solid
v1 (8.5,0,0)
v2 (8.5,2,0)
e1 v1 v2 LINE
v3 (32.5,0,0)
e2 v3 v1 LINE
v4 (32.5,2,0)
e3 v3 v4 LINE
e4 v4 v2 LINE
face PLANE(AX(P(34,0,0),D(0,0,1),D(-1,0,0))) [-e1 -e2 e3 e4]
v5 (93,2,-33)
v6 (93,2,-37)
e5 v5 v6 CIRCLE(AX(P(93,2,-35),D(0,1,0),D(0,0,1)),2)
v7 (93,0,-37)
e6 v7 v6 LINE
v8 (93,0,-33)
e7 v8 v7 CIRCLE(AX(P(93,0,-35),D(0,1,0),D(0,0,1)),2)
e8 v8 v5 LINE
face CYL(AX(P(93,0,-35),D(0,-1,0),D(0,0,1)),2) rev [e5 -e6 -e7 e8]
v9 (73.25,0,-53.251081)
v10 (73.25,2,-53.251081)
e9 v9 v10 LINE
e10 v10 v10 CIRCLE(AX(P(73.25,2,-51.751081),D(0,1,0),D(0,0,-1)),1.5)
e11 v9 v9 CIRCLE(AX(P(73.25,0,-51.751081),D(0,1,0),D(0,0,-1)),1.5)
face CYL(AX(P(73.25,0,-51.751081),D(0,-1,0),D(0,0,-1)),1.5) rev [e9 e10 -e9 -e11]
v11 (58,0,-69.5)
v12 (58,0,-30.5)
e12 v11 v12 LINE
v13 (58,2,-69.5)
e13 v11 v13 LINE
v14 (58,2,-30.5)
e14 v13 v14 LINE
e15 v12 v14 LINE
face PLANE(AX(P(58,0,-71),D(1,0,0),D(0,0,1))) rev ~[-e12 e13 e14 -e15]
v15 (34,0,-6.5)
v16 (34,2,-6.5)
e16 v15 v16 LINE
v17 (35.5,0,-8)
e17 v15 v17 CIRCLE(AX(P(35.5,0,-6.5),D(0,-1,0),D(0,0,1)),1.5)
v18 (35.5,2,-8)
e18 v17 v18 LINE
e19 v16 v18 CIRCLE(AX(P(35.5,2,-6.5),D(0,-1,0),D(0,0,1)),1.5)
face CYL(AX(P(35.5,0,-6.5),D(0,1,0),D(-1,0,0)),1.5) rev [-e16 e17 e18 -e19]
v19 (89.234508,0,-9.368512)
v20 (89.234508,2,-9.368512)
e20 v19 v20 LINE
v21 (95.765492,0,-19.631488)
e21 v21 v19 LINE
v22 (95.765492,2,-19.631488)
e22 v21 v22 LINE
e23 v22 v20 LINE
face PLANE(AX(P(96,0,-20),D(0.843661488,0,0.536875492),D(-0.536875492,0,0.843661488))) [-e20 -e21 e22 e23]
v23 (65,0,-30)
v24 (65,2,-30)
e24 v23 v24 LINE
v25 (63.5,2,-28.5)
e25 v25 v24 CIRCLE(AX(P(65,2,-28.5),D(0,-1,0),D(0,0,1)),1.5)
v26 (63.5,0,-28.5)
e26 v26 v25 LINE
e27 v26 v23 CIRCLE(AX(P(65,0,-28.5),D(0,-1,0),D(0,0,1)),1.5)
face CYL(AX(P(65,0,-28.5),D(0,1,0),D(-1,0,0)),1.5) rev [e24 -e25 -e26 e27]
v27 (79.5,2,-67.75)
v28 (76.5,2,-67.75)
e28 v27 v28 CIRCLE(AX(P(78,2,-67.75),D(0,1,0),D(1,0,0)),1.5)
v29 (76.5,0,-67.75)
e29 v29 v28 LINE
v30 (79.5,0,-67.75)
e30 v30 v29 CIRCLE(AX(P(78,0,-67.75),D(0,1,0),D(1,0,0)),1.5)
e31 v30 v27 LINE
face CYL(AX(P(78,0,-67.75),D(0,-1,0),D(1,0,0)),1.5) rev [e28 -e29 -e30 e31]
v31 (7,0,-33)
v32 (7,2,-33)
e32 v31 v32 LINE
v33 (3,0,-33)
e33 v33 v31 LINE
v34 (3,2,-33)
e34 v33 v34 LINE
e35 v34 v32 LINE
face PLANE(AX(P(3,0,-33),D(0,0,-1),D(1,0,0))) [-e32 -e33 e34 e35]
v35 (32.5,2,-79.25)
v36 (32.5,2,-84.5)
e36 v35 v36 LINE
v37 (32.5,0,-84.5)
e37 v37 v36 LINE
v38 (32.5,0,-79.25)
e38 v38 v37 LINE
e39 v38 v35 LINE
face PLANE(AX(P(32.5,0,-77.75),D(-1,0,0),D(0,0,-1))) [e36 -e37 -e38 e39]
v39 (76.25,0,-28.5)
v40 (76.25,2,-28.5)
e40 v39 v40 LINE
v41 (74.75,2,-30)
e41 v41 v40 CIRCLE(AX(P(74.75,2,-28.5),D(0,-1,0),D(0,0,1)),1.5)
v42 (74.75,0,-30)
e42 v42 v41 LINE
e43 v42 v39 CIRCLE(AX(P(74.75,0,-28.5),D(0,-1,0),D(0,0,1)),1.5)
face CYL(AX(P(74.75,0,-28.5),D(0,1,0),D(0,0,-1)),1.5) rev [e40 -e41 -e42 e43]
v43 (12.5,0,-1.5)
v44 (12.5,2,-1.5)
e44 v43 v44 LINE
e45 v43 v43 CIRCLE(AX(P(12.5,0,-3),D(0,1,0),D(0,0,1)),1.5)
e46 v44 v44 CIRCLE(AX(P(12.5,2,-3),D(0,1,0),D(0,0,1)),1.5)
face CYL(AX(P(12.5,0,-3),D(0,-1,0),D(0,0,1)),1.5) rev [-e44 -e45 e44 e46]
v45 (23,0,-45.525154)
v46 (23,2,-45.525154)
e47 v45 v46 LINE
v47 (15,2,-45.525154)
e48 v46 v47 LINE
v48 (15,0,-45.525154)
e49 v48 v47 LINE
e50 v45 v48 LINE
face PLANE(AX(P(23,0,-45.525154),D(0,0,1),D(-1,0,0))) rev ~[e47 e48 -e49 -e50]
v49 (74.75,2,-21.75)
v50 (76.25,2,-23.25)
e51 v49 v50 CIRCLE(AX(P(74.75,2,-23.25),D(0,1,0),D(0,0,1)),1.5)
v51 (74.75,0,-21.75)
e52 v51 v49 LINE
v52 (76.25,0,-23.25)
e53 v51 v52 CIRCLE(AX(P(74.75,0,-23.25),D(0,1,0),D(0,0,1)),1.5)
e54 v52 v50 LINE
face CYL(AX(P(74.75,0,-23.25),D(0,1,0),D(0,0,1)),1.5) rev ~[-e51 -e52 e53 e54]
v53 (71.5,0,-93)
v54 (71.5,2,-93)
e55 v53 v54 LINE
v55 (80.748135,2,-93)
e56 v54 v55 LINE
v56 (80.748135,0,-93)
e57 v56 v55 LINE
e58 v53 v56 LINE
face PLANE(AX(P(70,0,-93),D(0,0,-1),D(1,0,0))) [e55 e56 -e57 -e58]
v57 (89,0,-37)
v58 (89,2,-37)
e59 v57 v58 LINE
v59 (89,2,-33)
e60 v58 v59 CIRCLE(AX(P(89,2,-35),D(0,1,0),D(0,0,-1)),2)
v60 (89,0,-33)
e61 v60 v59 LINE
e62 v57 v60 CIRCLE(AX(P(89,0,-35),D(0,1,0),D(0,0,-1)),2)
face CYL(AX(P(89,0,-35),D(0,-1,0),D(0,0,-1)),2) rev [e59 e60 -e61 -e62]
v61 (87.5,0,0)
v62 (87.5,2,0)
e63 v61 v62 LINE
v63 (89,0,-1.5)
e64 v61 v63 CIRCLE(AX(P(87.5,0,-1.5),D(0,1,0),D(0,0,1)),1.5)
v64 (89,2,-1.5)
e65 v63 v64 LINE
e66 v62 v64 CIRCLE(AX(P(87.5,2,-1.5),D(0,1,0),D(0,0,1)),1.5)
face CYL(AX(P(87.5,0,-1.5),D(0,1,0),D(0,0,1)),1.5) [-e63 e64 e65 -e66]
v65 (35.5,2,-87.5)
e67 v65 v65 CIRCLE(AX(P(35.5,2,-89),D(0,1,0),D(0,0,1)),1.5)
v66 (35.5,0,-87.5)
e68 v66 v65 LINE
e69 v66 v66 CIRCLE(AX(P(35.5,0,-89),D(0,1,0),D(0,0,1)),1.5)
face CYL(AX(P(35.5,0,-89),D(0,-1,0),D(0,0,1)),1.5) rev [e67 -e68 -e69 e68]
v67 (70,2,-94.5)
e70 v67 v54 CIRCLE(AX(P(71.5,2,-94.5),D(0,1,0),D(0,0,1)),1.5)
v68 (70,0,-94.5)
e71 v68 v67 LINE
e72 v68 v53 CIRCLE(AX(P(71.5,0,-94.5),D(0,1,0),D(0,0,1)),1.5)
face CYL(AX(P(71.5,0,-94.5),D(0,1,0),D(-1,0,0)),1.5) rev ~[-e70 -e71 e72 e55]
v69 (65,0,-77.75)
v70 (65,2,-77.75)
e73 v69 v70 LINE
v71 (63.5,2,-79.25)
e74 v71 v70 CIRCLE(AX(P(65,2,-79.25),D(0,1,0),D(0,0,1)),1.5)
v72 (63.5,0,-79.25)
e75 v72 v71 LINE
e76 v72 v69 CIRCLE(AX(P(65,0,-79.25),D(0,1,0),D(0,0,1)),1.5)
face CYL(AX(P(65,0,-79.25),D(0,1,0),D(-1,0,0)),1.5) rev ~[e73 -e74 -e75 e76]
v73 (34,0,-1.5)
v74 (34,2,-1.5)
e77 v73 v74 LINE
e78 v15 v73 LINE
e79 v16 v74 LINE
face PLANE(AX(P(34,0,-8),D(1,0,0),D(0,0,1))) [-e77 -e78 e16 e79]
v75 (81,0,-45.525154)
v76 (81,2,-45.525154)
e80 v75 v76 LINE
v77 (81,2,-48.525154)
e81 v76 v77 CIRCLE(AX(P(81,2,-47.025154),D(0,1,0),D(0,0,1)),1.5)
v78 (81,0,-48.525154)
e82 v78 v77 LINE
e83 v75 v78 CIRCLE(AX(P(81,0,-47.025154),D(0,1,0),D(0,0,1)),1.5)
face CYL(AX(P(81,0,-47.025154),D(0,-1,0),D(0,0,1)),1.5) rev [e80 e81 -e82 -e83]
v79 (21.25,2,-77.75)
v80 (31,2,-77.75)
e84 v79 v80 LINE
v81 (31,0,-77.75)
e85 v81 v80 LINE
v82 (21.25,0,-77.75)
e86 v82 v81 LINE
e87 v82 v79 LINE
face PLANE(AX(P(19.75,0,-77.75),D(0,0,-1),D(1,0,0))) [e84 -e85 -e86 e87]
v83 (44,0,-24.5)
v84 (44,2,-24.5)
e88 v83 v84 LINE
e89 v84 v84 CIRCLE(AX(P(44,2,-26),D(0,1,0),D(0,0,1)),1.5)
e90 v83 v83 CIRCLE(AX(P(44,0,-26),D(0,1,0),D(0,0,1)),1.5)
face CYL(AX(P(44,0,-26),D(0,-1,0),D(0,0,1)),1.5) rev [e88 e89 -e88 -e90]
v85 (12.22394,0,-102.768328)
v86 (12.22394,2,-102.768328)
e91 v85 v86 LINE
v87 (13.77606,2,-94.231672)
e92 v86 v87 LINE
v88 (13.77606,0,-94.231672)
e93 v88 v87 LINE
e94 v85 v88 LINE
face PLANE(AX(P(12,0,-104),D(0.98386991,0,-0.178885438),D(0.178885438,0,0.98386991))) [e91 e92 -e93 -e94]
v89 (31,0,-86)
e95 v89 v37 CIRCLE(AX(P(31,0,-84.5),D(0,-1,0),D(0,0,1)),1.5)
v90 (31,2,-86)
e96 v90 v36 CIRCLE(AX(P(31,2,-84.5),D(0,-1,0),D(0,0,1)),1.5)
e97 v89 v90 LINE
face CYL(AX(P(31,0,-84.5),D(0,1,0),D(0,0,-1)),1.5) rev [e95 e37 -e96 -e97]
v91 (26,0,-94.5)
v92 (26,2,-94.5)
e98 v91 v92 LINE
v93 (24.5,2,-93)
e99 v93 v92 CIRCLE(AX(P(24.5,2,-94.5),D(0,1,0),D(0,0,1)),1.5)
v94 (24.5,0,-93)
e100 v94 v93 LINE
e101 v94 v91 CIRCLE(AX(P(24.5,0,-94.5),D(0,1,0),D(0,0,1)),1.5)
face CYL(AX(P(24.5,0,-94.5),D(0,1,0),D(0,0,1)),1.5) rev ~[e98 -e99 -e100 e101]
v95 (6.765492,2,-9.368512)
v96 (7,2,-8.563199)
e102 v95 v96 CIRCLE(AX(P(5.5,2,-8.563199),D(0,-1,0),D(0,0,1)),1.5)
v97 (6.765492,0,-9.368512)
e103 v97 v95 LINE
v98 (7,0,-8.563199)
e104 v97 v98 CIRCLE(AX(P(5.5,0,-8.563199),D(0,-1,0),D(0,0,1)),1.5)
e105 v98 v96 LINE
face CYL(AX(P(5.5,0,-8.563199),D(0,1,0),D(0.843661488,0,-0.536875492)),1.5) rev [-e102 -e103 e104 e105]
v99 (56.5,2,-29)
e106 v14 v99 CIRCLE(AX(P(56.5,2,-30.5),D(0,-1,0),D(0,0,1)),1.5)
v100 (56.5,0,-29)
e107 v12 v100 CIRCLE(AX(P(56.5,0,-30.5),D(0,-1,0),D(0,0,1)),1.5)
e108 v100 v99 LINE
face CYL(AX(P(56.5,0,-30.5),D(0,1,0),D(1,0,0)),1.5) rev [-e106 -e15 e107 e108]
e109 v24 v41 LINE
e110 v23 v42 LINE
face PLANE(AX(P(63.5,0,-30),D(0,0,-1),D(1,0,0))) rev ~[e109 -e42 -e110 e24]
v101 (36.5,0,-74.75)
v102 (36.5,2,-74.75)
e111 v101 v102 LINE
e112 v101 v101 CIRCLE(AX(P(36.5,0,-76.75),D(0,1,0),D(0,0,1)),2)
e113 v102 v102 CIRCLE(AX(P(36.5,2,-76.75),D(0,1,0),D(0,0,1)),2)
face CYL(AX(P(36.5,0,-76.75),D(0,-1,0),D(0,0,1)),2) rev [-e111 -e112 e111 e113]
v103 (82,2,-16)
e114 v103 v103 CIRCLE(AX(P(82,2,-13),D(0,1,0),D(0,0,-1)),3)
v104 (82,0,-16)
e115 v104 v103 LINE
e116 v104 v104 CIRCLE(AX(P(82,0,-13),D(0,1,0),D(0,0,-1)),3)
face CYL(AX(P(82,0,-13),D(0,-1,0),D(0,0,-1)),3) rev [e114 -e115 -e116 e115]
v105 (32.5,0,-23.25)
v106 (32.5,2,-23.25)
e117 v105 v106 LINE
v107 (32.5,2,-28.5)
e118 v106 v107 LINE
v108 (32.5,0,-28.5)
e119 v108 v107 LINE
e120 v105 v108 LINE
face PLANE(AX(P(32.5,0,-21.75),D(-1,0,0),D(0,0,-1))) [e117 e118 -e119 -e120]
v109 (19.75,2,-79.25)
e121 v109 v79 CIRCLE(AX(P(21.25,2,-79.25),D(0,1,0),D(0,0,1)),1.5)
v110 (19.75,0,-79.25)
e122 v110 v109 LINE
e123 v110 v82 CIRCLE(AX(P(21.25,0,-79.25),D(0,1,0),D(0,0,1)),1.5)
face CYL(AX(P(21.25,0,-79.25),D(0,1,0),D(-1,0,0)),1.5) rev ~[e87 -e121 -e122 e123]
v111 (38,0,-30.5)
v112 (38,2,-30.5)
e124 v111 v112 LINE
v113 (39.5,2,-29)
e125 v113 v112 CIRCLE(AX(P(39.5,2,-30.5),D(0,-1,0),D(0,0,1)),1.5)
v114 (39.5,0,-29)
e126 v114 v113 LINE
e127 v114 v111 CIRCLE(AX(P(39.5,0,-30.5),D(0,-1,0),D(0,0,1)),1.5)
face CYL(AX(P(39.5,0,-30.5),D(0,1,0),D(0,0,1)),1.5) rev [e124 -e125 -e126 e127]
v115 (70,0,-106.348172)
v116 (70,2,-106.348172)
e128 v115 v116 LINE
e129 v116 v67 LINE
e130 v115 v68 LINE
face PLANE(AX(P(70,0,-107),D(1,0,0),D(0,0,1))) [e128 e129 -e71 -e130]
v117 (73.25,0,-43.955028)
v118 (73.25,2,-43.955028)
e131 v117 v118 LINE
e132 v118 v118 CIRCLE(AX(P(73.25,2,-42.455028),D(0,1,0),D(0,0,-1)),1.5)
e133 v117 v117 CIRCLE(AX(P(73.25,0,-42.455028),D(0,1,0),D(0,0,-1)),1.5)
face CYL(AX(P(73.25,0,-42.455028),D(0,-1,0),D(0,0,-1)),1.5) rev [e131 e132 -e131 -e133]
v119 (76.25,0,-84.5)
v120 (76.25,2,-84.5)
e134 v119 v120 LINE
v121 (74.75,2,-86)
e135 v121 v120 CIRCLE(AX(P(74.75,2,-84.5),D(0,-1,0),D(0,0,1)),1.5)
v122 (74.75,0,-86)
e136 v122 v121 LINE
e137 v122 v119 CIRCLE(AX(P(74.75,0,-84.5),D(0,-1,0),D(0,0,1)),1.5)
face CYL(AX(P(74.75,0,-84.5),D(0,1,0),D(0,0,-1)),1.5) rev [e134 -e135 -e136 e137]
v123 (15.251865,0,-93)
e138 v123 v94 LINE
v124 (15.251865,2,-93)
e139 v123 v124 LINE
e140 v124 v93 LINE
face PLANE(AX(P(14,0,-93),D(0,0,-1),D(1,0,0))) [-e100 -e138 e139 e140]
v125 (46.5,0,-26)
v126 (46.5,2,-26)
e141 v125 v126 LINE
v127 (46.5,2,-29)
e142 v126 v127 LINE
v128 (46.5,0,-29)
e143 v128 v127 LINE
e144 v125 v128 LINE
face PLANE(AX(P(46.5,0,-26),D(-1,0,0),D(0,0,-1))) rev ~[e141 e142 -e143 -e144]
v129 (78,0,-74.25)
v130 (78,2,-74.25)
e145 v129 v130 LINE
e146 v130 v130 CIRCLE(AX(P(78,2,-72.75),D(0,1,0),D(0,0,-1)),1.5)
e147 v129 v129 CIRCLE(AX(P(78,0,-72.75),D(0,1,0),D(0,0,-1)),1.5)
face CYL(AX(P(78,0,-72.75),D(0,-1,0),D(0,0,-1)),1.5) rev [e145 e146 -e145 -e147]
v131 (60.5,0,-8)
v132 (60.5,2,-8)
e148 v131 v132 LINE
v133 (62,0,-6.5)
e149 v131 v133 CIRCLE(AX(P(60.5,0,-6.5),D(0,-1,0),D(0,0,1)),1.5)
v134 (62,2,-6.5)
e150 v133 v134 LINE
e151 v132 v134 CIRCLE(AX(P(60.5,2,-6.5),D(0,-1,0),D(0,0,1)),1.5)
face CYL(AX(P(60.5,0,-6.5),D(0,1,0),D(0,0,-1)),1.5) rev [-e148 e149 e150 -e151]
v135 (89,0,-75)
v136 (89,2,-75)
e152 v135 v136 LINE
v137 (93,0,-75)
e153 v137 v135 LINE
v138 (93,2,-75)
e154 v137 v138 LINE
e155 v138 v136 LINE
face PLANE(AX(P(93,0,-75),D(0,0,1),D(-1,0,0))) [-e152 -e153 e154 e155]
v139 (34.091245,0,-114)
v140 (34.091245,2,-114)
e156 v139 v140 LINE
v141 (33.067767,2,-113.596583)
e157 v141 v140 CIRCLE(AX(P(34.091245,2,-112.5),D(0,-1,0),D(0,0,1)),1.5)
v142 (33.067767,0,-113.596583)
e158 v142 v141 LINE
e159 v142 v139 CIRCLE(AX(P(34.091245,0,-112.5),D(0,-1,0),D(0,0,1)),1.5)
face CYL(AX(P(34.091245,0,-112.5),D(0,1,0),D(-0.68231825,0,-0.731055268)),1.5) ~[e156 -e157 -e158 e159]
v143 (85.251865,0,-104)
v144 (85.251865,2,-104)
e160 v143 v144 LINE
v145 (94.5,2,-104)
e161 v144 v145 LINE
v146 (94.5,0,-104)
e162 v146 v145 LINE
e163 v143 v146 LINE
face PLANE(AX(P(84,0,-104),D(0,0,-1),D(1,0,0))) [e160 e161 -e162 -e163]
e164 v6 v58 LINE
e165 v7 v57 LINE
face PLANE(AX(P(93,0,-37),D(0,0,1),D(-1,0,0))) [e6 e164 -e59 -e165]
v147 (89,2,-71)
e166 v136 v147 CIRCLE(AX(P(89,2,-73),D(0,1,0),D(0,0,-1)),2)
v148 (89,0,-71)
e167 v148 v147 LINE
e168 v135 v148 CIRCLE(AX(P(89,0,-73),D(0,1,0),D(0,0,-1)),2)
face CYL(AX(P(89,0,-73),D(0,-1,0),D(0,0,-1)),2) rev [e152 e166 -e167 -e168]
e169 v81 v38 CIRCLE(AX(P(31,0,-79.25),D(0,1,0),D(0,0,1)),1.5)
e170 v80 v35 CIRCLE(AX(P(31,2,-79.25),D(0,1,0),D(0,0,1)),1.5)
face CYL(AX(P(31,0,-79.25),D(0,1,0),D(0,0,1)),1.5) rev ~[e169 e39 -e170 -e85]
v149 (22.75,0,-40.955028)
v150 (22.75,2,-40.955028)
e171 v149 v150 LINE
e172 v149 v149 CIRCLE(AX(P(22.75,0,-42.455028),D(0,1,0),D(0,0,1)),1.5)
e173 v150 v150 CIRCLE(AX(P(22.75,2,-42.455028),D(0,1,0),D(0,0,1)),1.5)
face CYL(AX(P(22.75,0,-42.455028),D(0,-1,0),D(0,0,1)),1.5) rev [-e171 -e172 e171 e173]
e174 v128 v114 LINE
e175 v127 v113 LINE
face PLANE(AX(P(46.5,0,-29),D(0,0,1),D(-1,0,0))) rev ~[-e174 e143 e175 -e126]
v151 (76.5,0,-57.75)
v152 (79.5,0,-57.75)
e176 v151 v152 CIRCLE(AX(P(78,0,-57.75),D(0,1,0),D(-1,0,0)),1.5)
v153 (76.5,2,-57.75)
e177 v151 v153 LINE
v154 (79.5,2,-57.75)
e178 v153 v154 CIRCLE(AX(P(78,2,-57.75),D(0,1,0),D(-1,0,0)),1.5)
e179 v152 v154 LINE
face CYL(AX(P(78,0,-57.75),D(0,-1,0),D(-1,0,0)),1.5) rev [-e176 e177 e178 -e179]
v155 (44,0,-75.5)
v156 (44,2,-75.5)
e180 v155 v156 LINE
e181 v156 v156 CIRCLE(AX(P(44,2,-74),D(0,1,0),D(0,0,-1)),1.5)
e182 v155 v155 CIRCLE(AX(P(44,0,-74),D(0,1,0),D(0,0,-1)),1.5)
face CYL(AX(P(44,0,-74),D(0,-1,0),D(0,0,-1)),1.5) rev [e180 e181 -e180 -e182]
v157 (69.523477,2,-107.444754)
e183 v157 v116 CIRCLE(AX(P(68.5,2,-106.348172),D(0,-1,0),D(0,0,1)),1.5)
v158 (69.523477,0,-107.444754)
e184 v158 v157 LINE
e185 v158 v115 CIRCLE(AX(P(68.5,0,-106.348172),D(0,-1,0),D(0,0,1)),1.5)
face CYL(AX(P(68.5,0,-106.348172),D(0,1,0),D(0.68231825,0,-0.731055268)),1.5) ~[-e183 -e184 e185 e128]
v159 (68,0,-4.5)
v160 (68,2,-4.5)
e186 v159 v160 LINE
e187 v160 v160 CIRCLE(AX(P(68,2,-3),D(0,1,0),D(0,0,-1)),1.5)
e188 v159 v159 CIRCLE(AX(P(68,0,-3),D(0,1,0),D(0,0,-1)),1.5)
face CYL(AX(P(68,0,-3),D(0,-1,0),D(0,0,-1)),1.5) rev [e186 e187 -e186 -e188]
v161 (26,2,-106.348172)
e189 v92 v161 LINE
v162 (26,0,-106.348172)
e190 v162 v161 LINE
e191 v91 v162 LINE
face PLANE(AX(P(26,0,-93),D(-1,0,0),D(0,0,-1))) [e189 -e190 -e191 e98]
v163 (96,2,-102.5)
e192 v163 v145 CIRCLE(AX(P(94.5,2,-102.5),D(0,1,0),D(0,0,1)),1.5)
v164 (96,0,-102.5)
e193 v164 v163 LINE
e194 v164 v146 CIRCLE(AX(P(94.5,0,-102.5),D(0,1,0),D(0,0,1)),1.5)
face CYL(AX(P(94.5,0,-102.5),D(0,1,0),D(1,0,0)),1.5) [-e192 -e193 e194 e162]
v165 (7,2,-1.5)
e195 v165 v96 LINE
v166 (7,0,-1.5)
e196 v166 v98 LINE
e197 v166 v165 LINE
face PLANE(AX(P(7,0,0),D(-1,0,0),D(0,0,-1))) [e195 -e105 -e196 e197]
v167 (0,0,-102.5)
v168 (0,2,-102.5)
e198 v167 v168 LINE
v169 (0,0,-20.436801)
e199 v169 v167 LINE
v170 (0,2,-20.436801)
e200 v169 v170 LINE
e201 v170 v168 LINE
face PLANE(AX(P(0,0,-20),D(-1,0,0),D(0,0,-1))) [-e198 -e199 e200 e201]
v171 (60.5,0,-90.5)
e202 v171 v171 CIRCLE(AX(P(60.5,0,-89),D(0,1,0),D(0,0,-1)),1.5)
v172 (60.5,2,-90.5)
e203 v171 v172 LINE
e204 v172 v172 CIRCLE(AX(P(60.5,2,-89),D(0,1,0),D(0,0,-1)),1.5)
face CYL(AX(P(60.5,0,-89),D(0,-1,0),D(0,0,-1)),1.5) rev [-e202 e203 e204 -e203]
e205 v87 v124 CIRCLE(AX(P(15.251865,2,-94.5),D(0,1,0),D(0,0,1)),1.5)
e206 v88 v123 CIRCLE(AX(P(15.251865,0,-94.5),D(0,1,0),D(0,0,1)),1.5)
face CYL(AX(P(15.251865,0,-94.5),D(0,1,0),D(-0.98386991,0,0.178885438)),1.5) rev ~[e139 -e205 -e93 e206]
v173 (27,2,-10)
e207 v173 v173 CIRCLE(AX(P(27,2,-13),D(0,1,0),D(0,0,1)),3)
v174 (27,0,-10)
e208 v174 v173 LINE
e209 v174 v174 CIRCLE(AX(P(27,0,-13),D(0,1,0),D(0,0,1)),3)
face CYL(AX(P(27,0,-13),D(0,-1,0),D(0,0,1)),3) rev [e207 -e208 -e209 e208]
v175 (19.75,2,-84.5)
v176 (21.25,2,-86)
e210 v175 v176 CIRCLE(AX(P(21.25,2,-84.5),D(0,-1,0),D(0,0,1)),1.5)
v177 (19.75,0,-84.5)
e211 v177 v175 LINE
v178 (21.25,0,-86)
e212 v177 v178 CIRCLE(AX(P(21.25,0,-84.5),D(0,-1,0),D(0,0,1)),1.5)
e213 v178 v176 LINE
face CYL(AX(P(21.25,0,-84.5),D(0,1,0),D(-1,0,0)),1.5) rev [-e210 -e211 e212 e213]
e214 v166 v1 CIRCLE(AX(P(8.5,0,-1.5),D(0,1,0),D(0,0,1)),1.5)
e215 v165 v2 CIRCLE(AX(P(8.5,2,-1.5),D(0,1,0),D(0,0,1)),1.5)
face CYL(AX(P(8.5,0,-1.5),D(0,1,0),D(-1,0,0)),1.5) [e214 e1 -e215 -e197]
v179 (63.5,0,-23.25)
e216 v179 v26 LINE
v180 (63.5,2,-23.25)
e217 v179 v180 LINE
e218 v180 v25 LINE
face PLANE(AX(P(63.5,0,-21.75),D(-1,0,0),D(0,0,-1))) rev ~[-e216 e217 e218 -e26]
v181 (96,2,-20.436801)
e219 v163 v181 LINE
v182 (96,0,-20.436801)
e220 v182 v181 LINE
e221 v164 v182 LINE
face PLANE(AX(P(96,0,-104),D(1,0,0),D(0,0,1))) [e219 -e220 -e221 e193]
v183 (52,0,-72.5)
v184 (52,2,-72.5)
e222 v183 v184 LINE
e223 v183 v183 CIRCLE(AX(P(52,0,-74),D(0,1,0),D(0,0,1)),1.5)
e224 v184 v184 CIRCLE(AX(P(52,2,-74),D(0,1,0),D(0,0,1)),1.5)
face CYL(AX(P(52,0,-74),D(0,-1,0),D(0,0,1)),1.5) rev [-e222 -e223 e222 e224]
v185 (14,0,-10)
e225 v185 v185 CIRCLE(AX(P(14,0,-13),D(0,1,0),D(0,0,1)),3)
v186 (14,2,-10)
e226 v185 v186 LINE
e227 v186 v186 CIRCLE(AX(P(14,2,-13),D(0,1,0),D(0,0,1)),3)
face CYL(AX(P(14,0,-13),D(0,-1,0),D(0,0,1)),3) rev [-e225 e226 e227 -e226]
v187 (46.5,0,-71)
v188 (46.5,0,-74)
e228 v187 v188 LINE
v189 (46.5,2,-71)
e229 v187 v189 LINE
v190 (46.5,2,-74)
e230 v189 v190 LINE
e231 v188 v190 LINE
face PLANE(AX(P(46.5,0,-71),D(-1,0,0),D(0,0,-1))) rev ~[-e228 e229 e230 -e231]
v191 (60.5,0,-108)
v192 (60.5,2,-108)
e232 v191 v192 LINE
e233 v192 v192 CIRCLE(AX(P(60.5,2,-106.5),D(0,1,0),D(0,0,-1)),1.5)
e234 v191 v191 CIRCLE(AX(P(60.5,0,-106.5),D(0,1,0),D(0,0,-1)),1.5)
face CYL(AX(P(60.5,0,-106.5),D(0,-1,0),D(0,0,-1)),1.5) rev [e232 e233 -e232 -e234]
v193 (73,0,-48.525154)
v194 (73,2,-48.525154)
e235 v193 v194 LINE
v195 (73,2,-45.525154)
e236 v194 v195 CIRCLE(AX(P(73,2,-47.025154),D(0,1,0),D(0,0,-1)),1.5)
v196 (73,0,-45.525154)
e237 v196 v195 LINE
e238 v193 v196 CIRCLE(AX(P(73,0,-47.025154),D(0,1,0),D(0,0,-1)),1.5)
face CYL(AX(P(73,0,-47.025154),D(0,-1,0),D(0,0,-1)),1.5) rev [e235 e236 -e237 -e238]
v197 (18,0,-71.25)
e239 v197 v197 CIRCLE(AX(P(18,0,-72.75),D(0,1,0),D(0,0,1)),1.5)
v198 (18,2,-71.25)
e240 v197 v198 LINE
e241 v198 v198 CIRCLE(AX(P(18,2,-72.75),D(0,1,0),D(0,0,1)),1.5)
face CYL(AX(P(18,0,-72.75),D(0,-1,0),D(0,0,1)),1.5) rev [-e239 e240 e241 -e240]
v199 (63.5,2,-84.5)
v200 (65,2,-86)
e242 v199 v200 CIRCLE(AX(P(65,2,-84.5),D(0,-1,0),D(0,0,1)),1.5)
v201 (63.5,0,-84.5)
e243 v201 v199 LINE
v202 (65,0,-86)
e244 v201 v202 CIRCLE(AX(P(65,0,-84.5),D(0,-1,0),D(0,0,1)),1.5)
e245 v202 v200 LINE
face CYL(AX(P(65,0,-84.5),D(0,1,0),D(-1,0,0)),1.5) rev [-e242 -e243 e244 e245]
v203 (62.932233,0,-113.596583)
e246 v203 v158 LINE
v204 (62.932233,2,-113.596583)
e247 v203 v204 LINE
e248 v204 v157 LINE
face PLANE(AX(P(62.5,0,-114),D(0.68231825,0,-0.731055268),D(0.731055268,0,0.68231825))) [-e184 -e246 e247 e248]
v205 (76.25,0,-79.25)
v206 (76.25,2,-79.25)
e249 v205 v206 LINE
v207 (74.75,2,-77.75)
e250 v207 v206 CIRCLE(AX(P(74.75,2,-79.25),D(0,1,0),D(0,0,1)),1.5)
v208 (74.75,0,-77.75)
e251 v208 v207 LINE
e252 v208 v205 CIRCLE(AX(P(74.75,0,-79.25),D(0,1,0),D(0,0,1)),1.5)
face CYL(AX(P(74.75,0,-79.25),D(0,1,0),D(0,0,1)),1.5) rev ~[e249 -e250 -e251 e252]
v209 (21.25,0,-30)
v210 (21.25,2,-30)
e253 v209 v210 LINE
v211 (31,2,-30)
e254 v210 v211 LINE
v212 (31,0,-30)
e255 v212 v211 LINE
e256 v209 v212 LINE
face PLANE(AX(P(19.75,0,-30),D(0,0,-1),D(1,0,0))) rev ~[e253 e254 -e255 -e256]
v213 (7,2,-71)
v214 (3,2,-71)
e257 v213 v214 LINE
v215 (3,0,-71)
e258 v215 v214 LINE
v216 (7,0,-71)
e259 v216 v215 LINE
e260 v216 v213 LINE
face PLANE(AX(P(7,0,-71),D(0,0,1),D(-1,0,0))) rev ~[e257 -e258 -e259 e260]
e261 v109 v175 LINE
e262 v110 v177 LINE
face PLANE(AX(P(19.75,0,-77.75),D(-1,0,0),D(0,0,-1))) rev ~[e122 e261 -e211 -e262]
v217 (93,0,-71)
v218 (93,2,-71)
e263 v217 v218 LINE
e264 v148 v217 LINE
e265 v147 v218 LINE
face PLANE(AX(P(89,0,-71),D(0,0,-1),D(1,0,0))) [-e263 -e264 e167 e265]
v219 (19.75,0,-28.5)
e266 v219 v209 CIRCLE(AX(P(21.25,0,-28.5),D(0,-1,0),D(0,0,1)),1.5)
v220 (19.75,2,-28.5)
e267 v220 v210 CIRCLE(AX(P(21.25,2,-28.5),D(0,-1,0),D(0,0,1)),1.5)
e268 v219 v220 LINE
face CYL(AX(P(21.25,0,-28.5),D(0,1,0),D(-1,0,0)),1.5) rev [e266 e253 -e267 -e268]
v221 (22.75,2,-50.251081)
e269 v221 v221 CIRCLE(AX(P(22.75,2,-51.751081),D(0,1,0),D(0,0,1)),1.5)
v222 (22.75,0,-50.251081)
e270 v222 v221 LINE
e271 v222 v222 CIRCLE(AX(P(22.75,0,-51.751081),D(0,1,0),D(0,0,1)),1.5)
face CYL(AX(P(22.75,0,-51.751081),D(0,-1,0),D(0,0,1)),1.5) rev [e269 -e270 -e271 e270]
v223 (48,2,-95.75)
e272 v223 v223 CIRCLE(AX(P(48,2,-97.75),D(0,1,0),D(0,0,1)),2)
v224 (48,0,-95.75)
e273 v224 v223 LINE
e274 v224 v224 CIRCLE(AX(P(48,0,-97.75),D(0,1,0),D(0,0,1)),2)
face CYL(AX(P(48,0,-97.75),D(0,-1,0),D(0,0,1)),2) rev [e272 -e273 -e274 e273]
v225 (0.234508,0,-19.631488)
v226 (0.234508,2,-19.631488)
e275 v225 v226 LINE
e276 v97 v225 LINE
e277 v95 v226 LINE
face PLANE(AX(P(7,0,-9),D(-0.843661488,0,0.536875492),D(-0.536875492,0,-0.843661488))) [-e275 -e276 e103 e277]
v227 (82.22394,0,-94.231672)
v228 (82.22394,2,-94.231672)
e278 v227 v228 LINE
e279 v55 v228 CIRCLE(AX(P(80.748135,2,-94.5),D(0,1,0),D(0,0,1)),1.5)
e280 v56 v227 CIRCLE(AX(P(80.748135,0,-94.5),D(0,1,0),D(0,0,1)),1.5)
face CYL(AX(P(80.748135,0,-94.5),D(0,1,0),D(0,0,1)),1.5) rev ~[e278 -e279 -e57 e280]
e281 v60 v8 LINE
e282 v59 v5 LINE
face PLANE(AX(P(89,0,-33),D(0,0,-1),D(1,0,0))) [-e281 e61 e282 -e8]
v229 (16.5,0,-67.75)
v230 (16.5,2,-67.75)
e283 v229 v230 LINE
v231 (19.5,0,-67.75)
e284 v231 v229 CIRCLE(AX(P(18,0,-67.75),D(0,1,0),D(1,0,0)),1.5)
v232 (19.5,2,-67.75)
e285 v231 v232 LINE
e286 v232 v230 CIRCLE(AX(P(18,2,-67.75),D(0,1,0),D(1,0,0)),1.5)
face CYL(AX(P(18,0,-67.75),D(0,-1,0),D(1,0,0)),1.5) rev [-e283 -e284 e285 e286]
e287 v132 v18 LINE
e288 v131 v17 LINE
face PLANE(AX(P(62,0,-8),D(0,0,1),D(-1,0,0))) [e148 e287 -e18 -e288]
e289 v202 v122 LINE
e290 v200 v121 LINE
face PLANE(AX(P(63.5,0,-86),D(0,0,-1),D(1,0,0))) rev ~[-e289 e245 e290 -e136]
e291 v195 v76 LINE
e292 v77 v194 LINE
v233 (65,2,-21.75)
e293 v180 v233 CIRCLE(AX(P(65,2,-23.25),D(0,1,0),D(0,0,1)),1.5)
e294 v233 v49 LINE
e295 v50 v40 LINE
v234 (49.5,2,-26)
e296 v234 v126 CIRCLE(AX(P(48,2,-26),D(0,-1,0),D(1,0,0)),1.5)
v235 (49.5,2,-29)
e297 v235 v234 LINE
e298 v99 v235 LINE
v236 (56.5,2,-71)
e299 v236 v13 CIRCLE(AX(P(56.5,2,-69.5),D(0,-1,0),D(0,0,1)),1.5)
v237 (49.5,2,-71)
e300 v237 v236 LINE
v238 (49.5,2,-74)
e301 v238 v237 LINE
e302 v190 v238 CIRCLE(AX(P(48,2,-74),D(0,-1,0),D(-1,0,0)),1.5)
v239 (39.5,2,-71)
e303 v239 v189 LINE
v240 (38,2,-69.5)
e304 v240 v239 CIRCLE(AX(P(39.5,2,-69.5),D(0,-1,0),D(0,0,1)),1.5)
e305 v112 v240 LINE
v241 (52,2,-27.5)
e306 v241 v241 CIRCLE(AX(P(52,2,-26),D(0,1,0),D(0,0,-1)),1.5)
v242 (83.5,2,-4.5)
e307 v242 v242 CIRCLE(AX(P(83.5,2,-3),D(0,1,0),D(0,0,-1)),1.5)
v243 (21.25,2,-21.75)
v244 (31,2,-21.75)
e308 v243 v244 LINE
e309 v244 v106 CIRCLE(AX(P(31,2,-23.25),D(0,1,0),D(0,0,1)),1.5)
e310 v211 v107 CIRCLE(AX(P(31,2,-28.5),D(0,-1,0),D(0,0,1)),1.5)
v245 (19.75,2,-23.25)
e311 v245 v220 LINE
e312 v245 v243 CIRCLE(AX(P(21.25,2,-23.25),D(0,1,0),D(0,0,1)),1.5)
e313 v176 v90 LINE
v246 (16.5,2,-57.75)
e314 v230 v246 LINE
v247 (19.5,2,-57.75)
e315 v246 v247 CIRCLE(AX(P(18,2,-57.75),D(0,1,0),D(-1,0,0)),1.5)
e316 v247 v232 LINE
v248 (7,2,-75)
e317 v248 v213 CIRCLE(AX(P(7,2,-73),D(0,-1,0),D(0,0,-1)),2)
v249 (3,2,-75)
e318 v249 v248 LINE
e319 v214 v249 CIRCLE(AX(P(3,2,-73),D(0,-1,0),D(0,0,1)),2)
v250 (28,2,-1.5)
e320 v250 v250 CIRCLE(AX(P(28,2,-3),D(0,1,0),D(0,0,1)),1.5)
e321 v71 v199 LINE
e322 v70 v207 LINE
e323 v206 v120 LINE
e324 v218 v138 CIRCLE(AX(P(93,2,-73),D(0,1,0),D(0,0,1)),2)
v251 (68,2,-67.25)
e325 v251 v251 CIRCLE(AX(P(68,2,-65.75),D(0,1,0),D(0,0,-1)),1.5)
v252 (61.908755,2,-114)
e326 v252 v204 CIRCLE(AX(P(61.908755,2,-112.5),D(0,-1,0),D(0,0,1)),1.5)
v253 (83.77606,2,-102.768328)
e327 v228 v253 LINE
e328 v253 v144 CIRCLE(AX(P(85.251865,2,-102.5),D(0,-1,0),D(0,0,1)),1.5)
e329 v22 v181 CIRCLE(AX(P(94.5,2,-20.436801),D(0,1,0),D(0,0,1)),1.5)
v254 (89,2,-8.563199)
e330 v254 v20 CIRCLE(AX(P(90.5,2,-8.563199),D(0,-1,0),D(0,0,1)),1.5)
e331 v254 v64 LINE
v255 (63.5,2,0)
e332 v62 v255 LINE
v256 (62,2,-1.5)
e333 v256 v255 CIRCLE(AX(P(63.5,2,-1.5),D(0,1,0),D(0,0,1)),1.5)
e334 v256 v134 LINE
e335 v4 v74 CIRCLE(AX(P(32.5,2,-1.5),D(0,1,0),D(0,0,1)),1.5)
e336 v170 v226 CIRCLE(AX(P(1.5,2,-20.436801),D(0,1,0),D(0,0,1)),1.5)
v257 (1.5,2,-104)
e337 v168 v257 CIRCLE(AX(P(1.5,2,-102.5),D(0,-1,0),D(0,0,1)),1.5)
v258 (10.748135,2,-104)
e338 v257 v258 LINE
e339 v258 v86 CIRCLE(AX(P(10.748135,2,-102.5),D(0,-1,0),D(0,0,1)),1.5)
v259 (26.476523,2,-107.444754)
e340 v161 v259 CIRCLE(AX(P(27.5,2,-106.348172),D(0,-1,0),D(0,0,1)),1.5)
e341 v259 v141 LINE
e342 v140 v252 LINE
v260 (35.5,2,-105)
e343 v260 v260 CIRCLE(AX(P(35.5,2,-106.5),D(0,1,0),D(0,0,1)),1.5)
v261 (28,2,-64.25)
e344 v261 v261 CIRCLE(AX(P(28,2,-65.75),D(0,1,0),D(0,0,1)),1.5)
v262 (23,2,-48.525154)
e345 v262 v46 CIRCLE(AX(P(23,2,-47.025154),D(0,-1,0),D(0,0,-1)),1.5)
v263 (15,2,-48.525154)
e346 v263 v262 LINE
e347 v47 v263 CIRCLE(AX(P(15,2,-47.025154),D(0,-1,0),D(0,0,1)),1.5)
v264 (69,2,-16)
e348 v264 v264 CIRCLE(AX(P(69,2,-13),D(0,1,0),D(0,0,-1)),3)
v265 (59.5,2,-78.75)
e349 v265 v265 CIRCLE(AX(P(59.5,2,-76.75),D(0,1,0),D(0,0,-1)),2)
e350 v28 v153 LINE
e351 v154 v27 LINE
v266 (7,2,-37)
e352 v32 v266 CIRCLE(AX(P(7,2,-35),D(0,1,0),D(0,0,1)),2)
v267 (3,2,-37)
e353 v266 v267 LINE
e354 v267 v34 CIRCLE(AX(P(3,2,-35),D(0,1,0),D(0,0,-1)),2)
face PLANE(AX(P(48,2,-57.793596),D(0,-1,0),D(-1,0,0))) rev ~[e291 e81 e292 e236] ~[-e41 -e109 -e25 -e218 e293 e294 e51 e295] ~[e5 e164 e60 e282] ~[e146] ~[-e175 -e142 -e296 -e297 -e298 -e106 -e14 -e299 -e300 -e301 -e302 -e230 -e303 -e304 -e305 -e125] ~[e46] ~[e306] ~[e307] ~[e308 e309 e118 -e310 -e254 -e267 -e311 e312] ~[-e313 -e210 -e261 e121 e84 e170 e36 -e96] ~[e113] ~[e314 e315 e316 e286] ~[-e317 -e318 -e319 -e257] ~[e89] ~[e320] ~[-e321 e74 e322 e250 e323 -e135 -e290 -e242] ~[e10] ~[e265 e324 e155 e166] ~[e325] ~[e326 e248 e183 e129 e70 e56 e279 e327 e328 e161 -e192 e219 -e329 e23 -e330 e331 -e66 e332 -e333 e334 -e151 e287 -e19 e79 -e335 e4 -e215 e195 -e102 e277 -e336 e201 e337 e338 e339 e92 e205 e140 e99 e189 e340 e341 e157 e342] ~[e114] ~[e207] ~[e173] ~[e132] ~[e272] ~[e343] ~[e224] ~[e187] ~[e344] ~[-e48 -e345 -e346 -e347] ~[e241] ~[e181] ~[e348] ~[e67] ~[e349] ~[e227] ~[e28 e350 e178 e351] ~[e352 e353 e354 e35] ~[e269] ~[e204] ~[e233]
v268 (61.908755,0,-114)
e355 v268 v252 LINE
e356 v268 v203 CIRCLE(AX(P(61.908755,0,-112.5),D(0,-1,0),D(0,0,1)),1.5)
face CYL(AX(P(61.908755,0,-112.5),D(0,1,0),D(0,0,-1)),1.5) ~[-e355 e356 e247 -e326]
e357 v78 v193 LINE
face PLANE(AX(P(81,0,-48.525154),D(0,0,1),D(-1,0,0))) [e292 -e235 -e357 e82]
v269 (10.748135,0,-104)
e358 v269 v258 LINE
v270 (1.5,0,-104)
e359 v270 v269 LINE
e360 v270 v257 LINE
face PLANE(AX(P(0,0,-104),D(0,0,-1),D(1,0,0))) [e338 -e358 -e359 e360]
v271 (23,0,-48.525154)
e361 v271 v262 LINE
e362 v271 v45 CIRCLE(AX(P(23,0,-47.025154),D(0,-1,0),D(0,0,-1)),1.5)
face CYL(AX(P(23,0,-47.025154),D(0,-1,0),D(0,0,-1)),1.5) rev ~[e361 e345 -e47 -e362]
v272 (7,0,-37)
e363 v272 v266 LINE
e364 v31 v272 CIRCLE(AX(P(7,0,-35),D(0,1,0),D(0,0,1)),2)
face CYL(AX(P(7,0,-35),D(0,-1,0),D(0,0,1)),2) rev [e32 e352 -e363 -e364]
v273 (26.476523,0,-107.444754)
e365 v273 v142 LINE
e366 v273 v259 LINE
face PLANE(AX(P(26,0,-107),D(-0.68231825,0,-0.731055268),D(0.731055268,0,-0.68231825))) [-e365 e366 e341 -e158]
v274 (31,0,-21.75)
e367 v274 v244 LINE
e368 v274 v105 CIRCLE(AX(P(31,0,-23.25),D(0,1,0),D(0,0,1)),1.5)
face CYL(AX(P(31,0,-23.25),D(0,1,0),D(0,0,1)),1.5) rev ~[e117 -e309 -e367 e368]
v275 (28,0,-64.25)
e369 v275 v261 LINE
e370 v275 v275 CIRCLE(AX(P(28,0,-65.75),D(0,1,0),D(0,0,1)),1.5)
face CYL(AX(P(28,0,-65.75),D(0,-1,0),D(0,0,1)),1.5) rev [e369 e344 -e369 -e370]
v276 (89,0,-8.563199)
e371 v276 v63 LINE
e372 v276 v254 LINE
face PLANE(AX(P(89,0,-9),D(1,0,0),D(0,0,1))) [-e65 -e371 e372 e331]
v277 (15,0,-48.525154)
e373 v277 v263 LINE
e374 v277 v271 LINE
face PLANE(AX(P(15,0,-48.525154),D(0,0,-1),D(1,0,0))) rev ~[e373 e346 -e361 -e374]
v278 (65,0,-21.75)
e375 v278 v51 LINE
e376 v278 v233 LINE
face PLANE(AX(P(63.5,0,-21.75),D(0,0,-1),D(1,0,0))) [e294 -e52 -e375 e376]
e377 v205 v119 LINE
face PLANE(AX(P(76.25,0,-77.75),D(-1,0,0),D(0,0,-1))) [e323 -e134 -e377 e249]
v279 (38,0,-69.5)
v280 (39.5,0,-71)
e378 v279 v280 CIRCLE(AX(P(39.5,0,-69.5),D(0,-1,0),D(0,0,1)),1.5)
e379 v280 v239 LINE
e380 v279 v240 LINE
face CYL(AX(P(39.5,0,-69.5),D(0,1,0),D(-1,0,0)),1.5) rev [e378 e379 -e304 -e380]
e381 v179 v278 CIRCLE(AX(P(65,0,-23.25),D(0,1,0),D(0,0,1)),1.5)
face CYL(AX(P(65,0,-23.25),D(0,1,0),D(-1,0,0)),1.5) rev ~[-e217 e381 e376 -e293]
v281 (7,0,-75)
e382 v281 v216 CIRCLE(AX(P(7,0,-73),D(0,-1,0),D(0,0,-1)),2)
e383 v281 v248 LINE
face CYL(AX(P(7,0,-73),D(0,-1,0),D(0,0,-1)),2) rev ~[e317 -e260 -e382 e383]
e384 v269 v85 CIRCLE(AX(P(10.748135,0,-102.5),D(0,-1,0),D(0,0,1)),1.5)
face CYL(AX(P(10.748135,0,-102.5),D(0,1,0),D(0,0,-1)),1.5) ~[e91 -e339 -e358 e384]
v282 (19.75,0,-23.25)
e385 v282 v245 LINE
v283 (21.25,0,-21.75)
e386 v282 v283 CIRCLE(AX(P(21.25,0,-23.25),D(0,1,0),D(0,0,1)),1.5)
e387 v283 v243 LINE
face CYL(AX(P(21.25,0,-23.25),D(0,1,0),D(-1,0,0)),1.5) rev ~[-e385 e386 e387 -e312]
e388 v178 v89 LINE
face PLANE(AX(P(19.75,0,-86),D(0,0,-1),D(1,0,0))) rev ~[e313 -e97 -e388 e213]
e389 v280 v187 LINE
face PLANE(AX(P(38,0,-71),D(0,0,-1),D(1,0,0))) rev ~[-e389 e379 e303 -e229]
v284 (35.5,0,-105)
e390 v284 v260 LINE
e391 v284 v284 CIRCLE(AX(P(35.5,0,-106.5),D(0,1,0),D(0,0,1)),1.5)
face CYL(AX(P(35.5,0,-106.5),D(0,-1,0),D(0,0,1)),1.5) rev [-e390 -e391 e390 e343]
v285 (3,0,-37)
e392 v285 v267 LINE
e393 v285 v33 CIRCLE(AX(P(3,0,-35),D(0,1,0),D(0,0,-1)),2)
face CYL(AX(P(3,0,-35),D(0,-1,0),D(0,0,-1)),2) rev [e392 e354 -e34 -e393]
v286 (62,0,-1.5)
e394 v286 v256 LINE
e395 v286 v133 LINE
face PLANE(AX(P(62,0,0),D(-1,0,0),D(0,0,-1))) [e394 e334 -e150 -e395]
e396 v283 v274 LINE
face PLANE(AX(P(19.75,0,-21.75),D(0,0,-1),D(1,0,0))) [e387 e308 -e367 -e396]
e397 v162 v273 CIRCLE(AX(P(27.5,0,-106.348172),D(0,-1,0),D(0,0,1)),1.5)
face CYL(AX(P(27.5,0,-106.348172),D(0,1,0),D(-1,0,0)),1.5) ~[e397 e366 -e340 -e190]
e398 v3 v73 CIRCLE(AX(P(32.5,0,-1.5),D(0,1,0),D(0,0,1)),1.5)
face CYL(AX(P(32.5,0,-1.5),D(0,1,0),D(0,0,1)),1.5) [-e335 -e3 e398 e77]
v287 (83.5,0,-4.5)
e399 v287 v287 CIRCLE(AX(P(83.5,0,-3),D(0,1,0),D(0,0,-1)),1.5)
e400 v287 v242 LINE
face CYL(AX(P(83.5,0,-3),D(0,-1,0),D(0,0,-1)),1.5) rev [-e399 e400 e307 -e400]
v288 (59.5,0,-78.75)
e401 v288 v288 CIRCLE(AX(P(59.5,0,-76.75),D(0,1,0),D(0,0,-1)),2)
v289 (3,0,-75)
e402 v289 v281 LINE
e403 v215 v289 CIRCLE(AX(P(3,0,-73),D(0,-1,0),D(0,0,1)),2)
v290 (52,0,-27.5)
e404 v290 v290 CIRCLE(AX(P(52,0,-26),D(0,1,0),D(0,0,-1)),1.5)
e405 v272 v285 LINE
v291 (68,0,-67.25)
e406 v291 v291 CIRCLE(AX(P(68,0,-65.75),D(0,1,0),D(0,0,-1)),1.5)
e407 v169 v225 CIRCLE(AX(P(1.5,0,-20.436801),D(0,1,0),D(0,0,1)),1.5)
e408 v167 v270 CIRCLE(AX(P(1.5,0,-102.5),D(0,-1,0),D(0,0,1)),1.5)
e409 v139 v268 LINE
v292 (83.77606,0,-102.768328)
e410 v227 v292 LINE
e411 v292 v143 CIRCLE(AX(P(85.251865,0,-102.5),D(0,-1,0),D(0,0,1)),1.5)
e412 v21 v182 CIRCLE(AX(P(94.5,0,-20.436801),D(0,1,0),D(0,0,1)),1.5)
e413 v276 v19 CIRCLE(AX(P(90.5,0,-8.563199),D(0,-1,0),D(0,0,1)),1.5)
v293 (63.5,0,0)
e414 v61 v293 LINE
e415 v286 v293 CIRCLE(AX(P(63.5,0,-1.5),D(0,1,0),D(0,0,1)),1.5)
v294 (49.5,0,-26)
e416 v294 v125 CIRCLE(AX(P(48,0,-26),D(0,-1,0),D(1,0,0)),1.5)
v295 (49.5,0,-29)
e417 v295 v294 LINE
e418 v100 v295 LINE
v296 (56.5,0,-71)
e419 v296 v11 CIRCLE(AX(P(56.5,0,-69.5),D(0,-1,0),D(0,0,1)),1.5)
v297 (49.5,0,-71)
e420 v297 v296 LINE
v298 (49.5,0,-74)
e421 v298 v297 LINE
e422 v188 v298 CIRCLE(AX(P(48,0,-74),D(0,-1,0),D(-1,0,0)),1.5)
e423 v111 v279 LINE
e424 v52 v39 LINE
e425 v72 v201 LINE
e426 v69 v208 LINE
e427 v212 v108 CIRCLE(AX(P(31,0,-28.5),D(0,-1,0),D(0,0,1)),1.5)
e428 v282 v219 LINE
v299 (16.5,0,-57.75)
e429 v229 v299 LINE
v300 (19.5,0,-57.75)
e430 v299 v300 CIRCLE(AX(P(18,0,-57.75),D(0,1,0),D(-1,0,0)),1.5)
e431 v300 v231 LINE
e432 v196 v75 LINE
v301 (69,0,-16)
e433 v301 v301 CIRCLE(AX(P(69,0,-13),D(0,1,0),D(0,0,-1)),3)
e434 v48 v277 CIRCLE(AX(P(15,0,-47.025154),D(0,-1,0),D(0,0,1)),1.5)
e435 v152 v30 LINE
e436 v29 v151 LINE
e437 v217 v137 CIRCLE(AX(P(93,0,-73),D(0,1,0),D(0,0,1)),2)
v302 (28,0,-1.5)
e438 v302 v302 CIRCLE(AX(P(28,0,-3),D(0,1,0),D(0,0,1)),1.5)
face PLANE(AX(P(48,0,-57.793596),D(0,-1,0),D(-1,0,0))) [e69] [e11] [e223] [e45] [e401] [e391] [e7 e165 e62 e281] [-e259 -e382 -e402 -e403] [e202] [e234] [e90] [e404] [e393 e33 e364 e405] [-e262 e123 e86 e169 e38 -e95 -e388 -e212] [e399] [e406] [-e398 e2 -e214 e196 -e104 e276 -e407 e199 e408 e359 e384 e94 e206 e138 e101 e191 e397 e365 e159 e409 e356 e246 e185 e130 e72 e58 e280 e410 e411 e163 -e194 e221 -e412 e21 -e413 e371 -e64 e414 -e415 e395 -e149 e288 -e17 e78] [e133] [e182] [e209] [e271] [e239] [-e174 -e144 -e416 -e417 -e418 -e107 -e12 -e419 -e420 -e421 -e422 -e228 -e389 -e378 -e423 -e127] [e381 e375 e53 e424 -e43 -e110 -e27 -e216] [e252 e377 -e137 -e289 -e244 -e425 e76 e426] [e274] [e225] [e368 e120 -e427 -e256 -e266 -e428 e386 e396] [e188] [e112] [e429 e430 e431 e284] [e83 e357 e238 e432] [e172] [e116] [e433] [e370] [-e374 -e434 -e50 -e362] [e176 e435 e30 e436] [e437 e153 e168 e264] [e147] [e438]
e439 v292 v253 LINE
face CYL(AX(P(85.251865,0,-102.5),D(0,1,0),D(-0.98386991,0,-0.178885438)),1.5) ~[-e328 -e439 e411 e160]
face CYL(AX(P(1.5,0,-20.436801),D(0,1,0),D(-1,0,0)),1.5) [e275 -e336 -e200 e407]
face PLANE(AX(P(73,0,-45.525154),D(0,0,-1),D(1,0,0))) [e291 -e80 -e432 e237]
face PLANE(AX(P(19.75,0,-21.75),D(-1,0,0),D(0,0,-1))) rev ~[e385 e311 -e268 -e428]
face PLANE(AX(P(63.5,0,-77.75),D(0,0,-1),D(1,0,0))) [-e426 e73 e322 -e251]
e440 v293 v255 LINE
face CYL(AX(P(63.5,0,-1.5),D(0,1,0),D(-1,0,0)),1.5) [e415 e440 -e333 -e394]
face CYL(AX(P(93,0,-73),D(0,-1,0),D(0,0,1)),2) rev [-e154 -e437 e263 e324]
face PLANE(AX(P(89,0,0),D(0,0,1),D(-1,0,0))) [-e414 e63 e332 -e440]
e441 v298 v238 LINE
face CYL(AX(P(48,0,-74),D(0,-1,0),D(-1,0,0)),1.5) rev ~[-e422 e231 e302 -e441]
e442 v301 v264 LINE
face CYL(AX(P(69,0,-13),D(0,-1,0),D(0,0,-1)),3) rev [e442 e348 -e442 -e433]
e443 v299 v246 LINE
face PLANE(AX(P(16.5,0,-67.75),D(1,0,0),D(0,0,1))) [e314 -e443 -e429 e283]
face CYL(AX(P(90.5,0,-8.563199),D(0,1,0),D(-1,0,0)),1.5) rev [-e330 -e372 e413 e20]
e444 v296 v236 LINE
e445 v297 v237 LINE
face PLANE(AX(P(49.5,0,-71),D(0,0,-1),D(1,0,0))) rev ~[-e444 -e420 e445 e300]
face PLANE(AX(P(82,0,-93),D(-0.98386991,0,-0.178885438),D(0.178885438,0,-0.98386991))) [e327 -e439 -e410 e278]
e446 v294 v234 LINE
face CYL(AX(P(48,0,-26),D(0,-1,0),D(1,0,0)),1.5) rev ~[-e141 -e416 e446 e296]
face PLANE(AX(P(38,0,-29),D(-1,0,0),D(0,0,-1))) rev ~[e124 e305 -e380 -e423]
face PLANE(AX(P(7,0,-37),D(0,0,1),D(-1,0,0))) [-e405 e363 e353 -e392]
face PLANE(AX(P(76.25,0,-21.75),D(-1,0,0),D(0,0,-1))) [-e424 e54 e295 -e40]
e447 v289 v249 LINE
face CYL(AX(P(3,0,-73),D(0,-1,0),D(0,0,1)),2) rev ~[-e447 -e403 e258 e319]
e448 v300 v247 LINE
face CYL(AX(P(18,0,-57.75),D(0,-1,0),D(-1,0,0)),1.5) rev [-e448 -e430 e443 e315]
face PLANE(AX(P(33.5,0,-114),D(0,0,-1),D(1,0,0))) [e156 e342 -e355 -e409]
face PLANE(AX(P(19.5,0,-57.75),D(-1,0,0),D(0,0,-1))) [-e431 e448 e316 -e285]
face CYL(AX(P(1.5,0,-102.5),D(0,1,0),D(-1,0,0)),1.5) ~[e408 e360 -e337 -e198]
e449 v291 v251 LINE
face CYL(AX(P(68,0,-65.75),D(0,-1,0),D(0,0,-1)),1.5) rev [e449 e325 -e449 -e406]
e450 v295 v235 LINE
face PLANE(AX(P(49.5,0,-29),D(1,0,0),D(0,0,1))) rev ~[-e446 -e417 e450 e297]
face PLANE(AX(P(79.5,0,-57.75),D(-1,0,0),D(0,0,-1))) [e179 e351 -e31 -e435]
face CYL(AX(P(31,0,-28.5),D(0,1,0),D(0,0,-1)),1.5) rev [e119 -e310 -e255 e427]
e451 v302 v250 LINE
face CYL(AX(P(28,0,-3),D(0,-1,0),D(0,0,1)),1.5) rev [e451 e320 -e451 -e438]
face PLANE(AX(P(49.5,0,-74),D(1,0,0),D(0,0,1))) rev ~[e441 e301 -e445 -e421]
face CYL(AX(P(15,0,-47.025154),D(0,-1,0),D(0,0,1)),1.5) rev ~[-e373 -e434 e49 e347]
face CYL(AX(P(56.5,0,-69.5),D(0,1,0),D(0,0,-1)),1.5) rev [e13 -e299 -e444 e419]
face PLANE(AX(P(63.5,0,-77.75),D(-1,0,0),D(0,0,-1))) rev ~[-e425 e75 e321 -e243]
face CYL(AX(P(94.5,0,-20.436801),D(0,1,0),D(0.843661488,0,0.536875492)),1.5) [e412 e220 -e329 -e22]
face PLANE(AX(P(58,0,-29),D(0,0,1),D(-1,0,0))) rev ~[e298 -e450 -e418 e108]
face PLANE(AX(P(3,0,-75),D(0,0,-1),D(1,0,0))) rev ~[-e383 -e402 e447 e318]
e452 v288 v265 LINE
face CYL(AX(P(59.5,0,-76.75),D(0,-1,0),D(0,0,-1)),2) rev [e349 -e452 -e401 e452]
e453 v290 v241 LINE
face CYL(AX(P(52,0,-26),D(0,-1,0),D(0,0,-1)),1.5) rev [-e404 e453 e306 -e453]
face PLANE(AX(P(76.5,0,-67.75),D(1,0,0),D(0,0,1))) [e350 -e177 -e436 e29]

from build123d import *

# Parameters (mm, degrees)
SKETCH1_R           = 1.5
SKETCH1_R_2         = 3
SKETCH1_R_3         = 2
SKETCH1_W           = 12.75
SKETCH1_H           = 8.25
BOSS_EXTRUDE1_DEPTH = 2
FILLET1_R           = 1.5


with BuildPart() as part:
    # Sketch1 → Boss-Extrude1 (new body)
    with BuildSketch(Plane(origin=(0, 0, 0), x_dir=(1, 0, 0), z_dir=(0, 1, 0))):
        Polygon((0, 20), (0, 104), (12, 104), (14, 93), (26, 93), (26, 107), (33.5, 114), (62.5, 114), (70, 107), (70, 93), (82, 93), (84, 104), (96, 104), (96, 20), (89, 9), (89, 0), (62, 0), (62, 8), (34, 8), (34, 0), (7, 0), (7, 9), align=None)
        with Locations(Location((12.5, 3, 0), (0, 0, 270))):
            Circle(SKETCH1_R, mode=Mode.SUBTRACT)
        with Locations(Location((28, 3, 0), (0, 0, 270))):
            Circle(SKETCH1_R, mode=Mode.SUBTRACT)
        with Locations(Location((68, 3, 0), (0, 0, 90))):
            Circle(SKETCH1_R, mode=Mode.SUBTRACT)
        with Locations(Location((83.5, 3, 0), (0, 0, 90))):
            Circle(SKETCH1_R, mode=Mode.SUBTRACT)
        with Locations(Location((14, 13, 0), (0, 0, 270))):
            Circle(SKETCH1_R_2, mode=Mode.SUBTRACT)
        with Locations(Location((27, 13, 0), (0, 0, 270))):
            Circle(SKETCH1_R_2, mode=Mode.SUBTRACT)
        with Locations(Location((69, 13, 0), (0, 0, 90))):
            Circle(SKETCH1_R_2, mode=Mode.SUBTRACT)
        with Locations(Location((82, 13, 0), (0, 0, 90))):
            Circle(SKETCH1_R_2, mode=Mode.SUBTRACT)
        with Locations(Location((22.75, 42.455027657, 0), (0, 0, 270))):
            Circle(SKETCH1_R, mode=Mode.SUBTRACT)
        with Locations(Location((22.75, 51.751081058, 0), (0, 0, 270))):
            Circle(SKETCH1_R, mode=Mode.SUBTRACT)
        with Locations(Location((73.25, 42.455027657, 0), (0, 0, 90))):
            Circle(SKETCH1_R, mode=Mode.SUBTRACT)
        with Locations(Location((73.25, 51.751081058, 0), (0, 0, 90))):
            Circle(SKETCH1_R, mode=Mode.SUBTRACT)
        with Locations(Location((18, 72.75, 0), (0, 0, 270))):
            Circle(SKETCH1_R, mode=Mode.SUBTRACT)
        with Locations(Location((28, 65.75, 0), (0, 0, 270))):
            Circle(SKETCH1_R, mode=Mode.SUBTRACT)
        with Locations(Location((68, 65.75, 0), (0, 0, 90))):
            Circle(SKETCH1_R, mode=Mode.SUBTRACT)
        with Locations(Location((78, 72.75, 0), (0, 0, 90))):
            Circle(SKETCH1_R, mode=Mode.SUBTRACT)
        with Locations(Location((36.5, 76.75, 0), (0, 0, 270))):
            Circle(SKETCH1_R_3, mode=Mode.SUBTRACT)
        with Locations(Location((59.5, 76.75, 0), (0, 0, 90))):
            Circle(SKETCH1_R_3, mode=Mode.SUBTRACT)
        with Locations(Location((35.5, 89, 0), (0, 0, 270))):
            Circle(SKETCH1_R, mode=Mode.SUBTRACT)
        with Locations(Location((35.5, 106.5, 0), (0, 0, 270))):
            Circle(SKETCH1_R, mode=Mode.SUBTRACT)
        with Locations(Location((60.5, 89, 0), (0, 0, 90))):
            Circle(SKETCH1_R, mode=Mode.SUBTRACT)
        with Locations(Location((60.5, 106.5, 0), (0, 0, 90))):
            Circle(SKETCH1_R, mode=Mode.SUBTRACT)
        with Locations(Location((44, 26, 0), (0, 0, 270))):
            Circle(SKETCH1_R, mode=Mode.SUBTRACT)
        with Locations(Location((52, 26, 0), (0, 0, 90))):
            Circle(SKETCH1_R, mode=Mode.SUBTRACT)
        with Locations(Location((52, 74, 0), (0, 0, 270))):
            Circle(SKETCH1_R, mode=Mode.SUBTRACT)
        with Locations(Location((44, 74, 0), (0, 0, 90))):
            Circle(SKETCH1_R, mode=Mode.SUBTRACT)
        with Locations(Location((48, 97.75, 0), (0, 0, 270))):
            Circle(SKETCH1_R_3, mode=Mode.SUBTRACT)
        with Locations((69.875, 25.875)):
            Rectangle(SKETCH1_W, SKETCH1_H, mode=Mode.SUBTRACT)
        with Locations((26.125, 25.875)):
            Rectangle(SKETCH1_W, SKETCH1_H, mode=Mode.SUBTRACT)
        with Locations((69.875, 81.875)):
            Rectangle(SKETCH1_W, SKETCH1_H, mode=Mode.SUBTRACT)
        with Locations((26.125, 81.875)):
            Rectangle(SKETCH1_W, SKETCH1_H, mode=Mode.SUBTRACT)
        with BuildLine():
            Line((3, 75), (7, 75))
            ThreePointArc((7, 75), (9, 73), (7, 71))
            Line((7, 71), (3, 71))
            ThreePointArc((3, 71), (1, 73), (3, 75))
        make_face(mode=Mode.SUBTRACT)
        with BuildLine():
            Line((93, 75), (89, 75))
            ThreePointArc((89, 75), (87, 73), (89, 71))
            Line((89, 71), (93, 71))
            ThreePointArc((93, 71), (95, 73), (93, 75))
        make_face(mode=Mode.SUBTRACT)
        with BuildLine():
            Line((93, 37), (89, 37))
            ThreePointArc((89, 37), (87, 35), (89, 33))
            Line((89, 33), (93, 33))
            ThreePointArc((93, 33), (95, 35), (93, 37))
        make_face(mode=Mode.SUBTRACT)
        with BuildLine():
            Line((3, 33), (7, 33))
            ThreePointArc((7, 33), (9, 35), (7, 37))
            Line((7, 37), (3, 37))
            ThreePointArc((3, 37), (1, 35), (3, 33))
        make_face(mode=Mode.SUBTRACT)
        with BuildLine():
            Line((15, 48.525154469), (23, 48.525154469))
            ThreePointArc((23, 48.525154469), (24.5, 47.025154469), (23, 45.525154469))
            Line((23, 45.525154469), (15, 45.525154469))
            ThreePointArc((15, 45.525154469), (13.5, 47.025154469), (15, 48.525154469))
        make_face(mode=Mode.SUBTRACT)
        with BuildLine():
            Line((81, 48.525154469), (73, 48.525154469))
            ThreePointArc((73, 48.525154469), (71.5, 47.025154469), (73, 45.525154469))
            Line((73, 45.525154469), (81, 45.525154469))
            ThreePointArc((81, 45.525154469), (82.5, 47.025154469), (81, 48.525154469))
        make_face(mode=Mode.SUBTRACT)
        with BuildLine():
            Line((16.5, 67.75), (16.5, 57.75))
            ThreePointArc((16.5, 57.75), (18, 56.25), (19.5, 57.75))
            Line((19.5, 57.75), (19.5, 67.75))
            ThreePointArc((19.5, 67.75), (18, 69.25), (16.5, 67.75))
        make_face(mode=Mode.SUBTRACT)
        with BuildLine():
            Line((76.5, 67.75), (76.5, 57.75))
            ThreePointArc((76.5, 57.75), (78, 56.25), (79.5, 57.75))
            Line((79.5, 57.75), (79.5, 67.75))
            ThreePointArc((79.5, 67.75), (78, 69.25), (76.5, 67.75))
        make_face(mode=Mode.SUBTRACT)
        with BuildLine():
            Line((46.5, 29), (38, 29))
            Line((38, 29), (38, 71))
            Line((38, 71), (46.5, 71))
            Line((46.5, 71), (46.5, 74))
            ThreePointArc((46.5, 74), (48, 75.5), (49.5, 74))
            Line((49.5, 74), (49.5, 71))
            Line((49.5, 71), (58, 71))
            Line((58, 71), (58, 29))
            Line((58, 29), (49.5, 29))
            Line((49.5, 29), (49.5, 26))
            ThreePointArc((49.5, 26), (48, 24.5), (46.5, 26))
            Line((46.5, 26), (46.5, 29))
        make_face(mode=Mode.SUBTRACT)
    extrude(amount=BOSS_EXTRUDE1_DEPTH)

    # Fillet1
    fillet1_edges = [part.edges().sort_by_distance(p)[0] for p in [
        (19.75, 1, -30),
        (19.75, 1, -21.75),
        (32.5, 1, -21.75),
        (32.5, 1, -30),
        (63.5, 1, -77.75),
        (76.25, 1, -77.75),
        (76.25, 1, -86),
        (63.5, 1, -86),
        (19.75, 1, -86),
        (19.75, 1, -77.75),
        (32.5, 1, -77.75),
        (32.5, 1, -86),
        (58, 1, -29),
        (58, 1, -71),
        (38, 1, -71),
        (38, 1, -29),
        (62, 1, -8),
        (34, 1, -8),
        (34, 1, 0),
        (7, 1, 0),
        (7, 1, -9),
        (0, 1, -20),
        (0, 1, -104),
        (12, 1, -104),
        (14, 1, -93),
        (26, 1, -93),
        (26, 1, -107),
        (33.5, 1, -114),
        (62.5, 1, -114),
        (70, 1, -107),
        (70, 1, -93),
        (82, 1, -93),
        (84, 1, -104),
        (96, 1, -104),
        (96, 1, -20),
        (89, 1, -9),
        (89, 1, 0),
        (62, 1, 0),
        (76.25, 1, -21.75),
        (76.25, 1, -30),
        (63.5, 1, -30),
        (63.5, 1, -21.75),
    ]]
    fillet(fillet1_edges, radius=FILLET1_R)


solid = part.part
